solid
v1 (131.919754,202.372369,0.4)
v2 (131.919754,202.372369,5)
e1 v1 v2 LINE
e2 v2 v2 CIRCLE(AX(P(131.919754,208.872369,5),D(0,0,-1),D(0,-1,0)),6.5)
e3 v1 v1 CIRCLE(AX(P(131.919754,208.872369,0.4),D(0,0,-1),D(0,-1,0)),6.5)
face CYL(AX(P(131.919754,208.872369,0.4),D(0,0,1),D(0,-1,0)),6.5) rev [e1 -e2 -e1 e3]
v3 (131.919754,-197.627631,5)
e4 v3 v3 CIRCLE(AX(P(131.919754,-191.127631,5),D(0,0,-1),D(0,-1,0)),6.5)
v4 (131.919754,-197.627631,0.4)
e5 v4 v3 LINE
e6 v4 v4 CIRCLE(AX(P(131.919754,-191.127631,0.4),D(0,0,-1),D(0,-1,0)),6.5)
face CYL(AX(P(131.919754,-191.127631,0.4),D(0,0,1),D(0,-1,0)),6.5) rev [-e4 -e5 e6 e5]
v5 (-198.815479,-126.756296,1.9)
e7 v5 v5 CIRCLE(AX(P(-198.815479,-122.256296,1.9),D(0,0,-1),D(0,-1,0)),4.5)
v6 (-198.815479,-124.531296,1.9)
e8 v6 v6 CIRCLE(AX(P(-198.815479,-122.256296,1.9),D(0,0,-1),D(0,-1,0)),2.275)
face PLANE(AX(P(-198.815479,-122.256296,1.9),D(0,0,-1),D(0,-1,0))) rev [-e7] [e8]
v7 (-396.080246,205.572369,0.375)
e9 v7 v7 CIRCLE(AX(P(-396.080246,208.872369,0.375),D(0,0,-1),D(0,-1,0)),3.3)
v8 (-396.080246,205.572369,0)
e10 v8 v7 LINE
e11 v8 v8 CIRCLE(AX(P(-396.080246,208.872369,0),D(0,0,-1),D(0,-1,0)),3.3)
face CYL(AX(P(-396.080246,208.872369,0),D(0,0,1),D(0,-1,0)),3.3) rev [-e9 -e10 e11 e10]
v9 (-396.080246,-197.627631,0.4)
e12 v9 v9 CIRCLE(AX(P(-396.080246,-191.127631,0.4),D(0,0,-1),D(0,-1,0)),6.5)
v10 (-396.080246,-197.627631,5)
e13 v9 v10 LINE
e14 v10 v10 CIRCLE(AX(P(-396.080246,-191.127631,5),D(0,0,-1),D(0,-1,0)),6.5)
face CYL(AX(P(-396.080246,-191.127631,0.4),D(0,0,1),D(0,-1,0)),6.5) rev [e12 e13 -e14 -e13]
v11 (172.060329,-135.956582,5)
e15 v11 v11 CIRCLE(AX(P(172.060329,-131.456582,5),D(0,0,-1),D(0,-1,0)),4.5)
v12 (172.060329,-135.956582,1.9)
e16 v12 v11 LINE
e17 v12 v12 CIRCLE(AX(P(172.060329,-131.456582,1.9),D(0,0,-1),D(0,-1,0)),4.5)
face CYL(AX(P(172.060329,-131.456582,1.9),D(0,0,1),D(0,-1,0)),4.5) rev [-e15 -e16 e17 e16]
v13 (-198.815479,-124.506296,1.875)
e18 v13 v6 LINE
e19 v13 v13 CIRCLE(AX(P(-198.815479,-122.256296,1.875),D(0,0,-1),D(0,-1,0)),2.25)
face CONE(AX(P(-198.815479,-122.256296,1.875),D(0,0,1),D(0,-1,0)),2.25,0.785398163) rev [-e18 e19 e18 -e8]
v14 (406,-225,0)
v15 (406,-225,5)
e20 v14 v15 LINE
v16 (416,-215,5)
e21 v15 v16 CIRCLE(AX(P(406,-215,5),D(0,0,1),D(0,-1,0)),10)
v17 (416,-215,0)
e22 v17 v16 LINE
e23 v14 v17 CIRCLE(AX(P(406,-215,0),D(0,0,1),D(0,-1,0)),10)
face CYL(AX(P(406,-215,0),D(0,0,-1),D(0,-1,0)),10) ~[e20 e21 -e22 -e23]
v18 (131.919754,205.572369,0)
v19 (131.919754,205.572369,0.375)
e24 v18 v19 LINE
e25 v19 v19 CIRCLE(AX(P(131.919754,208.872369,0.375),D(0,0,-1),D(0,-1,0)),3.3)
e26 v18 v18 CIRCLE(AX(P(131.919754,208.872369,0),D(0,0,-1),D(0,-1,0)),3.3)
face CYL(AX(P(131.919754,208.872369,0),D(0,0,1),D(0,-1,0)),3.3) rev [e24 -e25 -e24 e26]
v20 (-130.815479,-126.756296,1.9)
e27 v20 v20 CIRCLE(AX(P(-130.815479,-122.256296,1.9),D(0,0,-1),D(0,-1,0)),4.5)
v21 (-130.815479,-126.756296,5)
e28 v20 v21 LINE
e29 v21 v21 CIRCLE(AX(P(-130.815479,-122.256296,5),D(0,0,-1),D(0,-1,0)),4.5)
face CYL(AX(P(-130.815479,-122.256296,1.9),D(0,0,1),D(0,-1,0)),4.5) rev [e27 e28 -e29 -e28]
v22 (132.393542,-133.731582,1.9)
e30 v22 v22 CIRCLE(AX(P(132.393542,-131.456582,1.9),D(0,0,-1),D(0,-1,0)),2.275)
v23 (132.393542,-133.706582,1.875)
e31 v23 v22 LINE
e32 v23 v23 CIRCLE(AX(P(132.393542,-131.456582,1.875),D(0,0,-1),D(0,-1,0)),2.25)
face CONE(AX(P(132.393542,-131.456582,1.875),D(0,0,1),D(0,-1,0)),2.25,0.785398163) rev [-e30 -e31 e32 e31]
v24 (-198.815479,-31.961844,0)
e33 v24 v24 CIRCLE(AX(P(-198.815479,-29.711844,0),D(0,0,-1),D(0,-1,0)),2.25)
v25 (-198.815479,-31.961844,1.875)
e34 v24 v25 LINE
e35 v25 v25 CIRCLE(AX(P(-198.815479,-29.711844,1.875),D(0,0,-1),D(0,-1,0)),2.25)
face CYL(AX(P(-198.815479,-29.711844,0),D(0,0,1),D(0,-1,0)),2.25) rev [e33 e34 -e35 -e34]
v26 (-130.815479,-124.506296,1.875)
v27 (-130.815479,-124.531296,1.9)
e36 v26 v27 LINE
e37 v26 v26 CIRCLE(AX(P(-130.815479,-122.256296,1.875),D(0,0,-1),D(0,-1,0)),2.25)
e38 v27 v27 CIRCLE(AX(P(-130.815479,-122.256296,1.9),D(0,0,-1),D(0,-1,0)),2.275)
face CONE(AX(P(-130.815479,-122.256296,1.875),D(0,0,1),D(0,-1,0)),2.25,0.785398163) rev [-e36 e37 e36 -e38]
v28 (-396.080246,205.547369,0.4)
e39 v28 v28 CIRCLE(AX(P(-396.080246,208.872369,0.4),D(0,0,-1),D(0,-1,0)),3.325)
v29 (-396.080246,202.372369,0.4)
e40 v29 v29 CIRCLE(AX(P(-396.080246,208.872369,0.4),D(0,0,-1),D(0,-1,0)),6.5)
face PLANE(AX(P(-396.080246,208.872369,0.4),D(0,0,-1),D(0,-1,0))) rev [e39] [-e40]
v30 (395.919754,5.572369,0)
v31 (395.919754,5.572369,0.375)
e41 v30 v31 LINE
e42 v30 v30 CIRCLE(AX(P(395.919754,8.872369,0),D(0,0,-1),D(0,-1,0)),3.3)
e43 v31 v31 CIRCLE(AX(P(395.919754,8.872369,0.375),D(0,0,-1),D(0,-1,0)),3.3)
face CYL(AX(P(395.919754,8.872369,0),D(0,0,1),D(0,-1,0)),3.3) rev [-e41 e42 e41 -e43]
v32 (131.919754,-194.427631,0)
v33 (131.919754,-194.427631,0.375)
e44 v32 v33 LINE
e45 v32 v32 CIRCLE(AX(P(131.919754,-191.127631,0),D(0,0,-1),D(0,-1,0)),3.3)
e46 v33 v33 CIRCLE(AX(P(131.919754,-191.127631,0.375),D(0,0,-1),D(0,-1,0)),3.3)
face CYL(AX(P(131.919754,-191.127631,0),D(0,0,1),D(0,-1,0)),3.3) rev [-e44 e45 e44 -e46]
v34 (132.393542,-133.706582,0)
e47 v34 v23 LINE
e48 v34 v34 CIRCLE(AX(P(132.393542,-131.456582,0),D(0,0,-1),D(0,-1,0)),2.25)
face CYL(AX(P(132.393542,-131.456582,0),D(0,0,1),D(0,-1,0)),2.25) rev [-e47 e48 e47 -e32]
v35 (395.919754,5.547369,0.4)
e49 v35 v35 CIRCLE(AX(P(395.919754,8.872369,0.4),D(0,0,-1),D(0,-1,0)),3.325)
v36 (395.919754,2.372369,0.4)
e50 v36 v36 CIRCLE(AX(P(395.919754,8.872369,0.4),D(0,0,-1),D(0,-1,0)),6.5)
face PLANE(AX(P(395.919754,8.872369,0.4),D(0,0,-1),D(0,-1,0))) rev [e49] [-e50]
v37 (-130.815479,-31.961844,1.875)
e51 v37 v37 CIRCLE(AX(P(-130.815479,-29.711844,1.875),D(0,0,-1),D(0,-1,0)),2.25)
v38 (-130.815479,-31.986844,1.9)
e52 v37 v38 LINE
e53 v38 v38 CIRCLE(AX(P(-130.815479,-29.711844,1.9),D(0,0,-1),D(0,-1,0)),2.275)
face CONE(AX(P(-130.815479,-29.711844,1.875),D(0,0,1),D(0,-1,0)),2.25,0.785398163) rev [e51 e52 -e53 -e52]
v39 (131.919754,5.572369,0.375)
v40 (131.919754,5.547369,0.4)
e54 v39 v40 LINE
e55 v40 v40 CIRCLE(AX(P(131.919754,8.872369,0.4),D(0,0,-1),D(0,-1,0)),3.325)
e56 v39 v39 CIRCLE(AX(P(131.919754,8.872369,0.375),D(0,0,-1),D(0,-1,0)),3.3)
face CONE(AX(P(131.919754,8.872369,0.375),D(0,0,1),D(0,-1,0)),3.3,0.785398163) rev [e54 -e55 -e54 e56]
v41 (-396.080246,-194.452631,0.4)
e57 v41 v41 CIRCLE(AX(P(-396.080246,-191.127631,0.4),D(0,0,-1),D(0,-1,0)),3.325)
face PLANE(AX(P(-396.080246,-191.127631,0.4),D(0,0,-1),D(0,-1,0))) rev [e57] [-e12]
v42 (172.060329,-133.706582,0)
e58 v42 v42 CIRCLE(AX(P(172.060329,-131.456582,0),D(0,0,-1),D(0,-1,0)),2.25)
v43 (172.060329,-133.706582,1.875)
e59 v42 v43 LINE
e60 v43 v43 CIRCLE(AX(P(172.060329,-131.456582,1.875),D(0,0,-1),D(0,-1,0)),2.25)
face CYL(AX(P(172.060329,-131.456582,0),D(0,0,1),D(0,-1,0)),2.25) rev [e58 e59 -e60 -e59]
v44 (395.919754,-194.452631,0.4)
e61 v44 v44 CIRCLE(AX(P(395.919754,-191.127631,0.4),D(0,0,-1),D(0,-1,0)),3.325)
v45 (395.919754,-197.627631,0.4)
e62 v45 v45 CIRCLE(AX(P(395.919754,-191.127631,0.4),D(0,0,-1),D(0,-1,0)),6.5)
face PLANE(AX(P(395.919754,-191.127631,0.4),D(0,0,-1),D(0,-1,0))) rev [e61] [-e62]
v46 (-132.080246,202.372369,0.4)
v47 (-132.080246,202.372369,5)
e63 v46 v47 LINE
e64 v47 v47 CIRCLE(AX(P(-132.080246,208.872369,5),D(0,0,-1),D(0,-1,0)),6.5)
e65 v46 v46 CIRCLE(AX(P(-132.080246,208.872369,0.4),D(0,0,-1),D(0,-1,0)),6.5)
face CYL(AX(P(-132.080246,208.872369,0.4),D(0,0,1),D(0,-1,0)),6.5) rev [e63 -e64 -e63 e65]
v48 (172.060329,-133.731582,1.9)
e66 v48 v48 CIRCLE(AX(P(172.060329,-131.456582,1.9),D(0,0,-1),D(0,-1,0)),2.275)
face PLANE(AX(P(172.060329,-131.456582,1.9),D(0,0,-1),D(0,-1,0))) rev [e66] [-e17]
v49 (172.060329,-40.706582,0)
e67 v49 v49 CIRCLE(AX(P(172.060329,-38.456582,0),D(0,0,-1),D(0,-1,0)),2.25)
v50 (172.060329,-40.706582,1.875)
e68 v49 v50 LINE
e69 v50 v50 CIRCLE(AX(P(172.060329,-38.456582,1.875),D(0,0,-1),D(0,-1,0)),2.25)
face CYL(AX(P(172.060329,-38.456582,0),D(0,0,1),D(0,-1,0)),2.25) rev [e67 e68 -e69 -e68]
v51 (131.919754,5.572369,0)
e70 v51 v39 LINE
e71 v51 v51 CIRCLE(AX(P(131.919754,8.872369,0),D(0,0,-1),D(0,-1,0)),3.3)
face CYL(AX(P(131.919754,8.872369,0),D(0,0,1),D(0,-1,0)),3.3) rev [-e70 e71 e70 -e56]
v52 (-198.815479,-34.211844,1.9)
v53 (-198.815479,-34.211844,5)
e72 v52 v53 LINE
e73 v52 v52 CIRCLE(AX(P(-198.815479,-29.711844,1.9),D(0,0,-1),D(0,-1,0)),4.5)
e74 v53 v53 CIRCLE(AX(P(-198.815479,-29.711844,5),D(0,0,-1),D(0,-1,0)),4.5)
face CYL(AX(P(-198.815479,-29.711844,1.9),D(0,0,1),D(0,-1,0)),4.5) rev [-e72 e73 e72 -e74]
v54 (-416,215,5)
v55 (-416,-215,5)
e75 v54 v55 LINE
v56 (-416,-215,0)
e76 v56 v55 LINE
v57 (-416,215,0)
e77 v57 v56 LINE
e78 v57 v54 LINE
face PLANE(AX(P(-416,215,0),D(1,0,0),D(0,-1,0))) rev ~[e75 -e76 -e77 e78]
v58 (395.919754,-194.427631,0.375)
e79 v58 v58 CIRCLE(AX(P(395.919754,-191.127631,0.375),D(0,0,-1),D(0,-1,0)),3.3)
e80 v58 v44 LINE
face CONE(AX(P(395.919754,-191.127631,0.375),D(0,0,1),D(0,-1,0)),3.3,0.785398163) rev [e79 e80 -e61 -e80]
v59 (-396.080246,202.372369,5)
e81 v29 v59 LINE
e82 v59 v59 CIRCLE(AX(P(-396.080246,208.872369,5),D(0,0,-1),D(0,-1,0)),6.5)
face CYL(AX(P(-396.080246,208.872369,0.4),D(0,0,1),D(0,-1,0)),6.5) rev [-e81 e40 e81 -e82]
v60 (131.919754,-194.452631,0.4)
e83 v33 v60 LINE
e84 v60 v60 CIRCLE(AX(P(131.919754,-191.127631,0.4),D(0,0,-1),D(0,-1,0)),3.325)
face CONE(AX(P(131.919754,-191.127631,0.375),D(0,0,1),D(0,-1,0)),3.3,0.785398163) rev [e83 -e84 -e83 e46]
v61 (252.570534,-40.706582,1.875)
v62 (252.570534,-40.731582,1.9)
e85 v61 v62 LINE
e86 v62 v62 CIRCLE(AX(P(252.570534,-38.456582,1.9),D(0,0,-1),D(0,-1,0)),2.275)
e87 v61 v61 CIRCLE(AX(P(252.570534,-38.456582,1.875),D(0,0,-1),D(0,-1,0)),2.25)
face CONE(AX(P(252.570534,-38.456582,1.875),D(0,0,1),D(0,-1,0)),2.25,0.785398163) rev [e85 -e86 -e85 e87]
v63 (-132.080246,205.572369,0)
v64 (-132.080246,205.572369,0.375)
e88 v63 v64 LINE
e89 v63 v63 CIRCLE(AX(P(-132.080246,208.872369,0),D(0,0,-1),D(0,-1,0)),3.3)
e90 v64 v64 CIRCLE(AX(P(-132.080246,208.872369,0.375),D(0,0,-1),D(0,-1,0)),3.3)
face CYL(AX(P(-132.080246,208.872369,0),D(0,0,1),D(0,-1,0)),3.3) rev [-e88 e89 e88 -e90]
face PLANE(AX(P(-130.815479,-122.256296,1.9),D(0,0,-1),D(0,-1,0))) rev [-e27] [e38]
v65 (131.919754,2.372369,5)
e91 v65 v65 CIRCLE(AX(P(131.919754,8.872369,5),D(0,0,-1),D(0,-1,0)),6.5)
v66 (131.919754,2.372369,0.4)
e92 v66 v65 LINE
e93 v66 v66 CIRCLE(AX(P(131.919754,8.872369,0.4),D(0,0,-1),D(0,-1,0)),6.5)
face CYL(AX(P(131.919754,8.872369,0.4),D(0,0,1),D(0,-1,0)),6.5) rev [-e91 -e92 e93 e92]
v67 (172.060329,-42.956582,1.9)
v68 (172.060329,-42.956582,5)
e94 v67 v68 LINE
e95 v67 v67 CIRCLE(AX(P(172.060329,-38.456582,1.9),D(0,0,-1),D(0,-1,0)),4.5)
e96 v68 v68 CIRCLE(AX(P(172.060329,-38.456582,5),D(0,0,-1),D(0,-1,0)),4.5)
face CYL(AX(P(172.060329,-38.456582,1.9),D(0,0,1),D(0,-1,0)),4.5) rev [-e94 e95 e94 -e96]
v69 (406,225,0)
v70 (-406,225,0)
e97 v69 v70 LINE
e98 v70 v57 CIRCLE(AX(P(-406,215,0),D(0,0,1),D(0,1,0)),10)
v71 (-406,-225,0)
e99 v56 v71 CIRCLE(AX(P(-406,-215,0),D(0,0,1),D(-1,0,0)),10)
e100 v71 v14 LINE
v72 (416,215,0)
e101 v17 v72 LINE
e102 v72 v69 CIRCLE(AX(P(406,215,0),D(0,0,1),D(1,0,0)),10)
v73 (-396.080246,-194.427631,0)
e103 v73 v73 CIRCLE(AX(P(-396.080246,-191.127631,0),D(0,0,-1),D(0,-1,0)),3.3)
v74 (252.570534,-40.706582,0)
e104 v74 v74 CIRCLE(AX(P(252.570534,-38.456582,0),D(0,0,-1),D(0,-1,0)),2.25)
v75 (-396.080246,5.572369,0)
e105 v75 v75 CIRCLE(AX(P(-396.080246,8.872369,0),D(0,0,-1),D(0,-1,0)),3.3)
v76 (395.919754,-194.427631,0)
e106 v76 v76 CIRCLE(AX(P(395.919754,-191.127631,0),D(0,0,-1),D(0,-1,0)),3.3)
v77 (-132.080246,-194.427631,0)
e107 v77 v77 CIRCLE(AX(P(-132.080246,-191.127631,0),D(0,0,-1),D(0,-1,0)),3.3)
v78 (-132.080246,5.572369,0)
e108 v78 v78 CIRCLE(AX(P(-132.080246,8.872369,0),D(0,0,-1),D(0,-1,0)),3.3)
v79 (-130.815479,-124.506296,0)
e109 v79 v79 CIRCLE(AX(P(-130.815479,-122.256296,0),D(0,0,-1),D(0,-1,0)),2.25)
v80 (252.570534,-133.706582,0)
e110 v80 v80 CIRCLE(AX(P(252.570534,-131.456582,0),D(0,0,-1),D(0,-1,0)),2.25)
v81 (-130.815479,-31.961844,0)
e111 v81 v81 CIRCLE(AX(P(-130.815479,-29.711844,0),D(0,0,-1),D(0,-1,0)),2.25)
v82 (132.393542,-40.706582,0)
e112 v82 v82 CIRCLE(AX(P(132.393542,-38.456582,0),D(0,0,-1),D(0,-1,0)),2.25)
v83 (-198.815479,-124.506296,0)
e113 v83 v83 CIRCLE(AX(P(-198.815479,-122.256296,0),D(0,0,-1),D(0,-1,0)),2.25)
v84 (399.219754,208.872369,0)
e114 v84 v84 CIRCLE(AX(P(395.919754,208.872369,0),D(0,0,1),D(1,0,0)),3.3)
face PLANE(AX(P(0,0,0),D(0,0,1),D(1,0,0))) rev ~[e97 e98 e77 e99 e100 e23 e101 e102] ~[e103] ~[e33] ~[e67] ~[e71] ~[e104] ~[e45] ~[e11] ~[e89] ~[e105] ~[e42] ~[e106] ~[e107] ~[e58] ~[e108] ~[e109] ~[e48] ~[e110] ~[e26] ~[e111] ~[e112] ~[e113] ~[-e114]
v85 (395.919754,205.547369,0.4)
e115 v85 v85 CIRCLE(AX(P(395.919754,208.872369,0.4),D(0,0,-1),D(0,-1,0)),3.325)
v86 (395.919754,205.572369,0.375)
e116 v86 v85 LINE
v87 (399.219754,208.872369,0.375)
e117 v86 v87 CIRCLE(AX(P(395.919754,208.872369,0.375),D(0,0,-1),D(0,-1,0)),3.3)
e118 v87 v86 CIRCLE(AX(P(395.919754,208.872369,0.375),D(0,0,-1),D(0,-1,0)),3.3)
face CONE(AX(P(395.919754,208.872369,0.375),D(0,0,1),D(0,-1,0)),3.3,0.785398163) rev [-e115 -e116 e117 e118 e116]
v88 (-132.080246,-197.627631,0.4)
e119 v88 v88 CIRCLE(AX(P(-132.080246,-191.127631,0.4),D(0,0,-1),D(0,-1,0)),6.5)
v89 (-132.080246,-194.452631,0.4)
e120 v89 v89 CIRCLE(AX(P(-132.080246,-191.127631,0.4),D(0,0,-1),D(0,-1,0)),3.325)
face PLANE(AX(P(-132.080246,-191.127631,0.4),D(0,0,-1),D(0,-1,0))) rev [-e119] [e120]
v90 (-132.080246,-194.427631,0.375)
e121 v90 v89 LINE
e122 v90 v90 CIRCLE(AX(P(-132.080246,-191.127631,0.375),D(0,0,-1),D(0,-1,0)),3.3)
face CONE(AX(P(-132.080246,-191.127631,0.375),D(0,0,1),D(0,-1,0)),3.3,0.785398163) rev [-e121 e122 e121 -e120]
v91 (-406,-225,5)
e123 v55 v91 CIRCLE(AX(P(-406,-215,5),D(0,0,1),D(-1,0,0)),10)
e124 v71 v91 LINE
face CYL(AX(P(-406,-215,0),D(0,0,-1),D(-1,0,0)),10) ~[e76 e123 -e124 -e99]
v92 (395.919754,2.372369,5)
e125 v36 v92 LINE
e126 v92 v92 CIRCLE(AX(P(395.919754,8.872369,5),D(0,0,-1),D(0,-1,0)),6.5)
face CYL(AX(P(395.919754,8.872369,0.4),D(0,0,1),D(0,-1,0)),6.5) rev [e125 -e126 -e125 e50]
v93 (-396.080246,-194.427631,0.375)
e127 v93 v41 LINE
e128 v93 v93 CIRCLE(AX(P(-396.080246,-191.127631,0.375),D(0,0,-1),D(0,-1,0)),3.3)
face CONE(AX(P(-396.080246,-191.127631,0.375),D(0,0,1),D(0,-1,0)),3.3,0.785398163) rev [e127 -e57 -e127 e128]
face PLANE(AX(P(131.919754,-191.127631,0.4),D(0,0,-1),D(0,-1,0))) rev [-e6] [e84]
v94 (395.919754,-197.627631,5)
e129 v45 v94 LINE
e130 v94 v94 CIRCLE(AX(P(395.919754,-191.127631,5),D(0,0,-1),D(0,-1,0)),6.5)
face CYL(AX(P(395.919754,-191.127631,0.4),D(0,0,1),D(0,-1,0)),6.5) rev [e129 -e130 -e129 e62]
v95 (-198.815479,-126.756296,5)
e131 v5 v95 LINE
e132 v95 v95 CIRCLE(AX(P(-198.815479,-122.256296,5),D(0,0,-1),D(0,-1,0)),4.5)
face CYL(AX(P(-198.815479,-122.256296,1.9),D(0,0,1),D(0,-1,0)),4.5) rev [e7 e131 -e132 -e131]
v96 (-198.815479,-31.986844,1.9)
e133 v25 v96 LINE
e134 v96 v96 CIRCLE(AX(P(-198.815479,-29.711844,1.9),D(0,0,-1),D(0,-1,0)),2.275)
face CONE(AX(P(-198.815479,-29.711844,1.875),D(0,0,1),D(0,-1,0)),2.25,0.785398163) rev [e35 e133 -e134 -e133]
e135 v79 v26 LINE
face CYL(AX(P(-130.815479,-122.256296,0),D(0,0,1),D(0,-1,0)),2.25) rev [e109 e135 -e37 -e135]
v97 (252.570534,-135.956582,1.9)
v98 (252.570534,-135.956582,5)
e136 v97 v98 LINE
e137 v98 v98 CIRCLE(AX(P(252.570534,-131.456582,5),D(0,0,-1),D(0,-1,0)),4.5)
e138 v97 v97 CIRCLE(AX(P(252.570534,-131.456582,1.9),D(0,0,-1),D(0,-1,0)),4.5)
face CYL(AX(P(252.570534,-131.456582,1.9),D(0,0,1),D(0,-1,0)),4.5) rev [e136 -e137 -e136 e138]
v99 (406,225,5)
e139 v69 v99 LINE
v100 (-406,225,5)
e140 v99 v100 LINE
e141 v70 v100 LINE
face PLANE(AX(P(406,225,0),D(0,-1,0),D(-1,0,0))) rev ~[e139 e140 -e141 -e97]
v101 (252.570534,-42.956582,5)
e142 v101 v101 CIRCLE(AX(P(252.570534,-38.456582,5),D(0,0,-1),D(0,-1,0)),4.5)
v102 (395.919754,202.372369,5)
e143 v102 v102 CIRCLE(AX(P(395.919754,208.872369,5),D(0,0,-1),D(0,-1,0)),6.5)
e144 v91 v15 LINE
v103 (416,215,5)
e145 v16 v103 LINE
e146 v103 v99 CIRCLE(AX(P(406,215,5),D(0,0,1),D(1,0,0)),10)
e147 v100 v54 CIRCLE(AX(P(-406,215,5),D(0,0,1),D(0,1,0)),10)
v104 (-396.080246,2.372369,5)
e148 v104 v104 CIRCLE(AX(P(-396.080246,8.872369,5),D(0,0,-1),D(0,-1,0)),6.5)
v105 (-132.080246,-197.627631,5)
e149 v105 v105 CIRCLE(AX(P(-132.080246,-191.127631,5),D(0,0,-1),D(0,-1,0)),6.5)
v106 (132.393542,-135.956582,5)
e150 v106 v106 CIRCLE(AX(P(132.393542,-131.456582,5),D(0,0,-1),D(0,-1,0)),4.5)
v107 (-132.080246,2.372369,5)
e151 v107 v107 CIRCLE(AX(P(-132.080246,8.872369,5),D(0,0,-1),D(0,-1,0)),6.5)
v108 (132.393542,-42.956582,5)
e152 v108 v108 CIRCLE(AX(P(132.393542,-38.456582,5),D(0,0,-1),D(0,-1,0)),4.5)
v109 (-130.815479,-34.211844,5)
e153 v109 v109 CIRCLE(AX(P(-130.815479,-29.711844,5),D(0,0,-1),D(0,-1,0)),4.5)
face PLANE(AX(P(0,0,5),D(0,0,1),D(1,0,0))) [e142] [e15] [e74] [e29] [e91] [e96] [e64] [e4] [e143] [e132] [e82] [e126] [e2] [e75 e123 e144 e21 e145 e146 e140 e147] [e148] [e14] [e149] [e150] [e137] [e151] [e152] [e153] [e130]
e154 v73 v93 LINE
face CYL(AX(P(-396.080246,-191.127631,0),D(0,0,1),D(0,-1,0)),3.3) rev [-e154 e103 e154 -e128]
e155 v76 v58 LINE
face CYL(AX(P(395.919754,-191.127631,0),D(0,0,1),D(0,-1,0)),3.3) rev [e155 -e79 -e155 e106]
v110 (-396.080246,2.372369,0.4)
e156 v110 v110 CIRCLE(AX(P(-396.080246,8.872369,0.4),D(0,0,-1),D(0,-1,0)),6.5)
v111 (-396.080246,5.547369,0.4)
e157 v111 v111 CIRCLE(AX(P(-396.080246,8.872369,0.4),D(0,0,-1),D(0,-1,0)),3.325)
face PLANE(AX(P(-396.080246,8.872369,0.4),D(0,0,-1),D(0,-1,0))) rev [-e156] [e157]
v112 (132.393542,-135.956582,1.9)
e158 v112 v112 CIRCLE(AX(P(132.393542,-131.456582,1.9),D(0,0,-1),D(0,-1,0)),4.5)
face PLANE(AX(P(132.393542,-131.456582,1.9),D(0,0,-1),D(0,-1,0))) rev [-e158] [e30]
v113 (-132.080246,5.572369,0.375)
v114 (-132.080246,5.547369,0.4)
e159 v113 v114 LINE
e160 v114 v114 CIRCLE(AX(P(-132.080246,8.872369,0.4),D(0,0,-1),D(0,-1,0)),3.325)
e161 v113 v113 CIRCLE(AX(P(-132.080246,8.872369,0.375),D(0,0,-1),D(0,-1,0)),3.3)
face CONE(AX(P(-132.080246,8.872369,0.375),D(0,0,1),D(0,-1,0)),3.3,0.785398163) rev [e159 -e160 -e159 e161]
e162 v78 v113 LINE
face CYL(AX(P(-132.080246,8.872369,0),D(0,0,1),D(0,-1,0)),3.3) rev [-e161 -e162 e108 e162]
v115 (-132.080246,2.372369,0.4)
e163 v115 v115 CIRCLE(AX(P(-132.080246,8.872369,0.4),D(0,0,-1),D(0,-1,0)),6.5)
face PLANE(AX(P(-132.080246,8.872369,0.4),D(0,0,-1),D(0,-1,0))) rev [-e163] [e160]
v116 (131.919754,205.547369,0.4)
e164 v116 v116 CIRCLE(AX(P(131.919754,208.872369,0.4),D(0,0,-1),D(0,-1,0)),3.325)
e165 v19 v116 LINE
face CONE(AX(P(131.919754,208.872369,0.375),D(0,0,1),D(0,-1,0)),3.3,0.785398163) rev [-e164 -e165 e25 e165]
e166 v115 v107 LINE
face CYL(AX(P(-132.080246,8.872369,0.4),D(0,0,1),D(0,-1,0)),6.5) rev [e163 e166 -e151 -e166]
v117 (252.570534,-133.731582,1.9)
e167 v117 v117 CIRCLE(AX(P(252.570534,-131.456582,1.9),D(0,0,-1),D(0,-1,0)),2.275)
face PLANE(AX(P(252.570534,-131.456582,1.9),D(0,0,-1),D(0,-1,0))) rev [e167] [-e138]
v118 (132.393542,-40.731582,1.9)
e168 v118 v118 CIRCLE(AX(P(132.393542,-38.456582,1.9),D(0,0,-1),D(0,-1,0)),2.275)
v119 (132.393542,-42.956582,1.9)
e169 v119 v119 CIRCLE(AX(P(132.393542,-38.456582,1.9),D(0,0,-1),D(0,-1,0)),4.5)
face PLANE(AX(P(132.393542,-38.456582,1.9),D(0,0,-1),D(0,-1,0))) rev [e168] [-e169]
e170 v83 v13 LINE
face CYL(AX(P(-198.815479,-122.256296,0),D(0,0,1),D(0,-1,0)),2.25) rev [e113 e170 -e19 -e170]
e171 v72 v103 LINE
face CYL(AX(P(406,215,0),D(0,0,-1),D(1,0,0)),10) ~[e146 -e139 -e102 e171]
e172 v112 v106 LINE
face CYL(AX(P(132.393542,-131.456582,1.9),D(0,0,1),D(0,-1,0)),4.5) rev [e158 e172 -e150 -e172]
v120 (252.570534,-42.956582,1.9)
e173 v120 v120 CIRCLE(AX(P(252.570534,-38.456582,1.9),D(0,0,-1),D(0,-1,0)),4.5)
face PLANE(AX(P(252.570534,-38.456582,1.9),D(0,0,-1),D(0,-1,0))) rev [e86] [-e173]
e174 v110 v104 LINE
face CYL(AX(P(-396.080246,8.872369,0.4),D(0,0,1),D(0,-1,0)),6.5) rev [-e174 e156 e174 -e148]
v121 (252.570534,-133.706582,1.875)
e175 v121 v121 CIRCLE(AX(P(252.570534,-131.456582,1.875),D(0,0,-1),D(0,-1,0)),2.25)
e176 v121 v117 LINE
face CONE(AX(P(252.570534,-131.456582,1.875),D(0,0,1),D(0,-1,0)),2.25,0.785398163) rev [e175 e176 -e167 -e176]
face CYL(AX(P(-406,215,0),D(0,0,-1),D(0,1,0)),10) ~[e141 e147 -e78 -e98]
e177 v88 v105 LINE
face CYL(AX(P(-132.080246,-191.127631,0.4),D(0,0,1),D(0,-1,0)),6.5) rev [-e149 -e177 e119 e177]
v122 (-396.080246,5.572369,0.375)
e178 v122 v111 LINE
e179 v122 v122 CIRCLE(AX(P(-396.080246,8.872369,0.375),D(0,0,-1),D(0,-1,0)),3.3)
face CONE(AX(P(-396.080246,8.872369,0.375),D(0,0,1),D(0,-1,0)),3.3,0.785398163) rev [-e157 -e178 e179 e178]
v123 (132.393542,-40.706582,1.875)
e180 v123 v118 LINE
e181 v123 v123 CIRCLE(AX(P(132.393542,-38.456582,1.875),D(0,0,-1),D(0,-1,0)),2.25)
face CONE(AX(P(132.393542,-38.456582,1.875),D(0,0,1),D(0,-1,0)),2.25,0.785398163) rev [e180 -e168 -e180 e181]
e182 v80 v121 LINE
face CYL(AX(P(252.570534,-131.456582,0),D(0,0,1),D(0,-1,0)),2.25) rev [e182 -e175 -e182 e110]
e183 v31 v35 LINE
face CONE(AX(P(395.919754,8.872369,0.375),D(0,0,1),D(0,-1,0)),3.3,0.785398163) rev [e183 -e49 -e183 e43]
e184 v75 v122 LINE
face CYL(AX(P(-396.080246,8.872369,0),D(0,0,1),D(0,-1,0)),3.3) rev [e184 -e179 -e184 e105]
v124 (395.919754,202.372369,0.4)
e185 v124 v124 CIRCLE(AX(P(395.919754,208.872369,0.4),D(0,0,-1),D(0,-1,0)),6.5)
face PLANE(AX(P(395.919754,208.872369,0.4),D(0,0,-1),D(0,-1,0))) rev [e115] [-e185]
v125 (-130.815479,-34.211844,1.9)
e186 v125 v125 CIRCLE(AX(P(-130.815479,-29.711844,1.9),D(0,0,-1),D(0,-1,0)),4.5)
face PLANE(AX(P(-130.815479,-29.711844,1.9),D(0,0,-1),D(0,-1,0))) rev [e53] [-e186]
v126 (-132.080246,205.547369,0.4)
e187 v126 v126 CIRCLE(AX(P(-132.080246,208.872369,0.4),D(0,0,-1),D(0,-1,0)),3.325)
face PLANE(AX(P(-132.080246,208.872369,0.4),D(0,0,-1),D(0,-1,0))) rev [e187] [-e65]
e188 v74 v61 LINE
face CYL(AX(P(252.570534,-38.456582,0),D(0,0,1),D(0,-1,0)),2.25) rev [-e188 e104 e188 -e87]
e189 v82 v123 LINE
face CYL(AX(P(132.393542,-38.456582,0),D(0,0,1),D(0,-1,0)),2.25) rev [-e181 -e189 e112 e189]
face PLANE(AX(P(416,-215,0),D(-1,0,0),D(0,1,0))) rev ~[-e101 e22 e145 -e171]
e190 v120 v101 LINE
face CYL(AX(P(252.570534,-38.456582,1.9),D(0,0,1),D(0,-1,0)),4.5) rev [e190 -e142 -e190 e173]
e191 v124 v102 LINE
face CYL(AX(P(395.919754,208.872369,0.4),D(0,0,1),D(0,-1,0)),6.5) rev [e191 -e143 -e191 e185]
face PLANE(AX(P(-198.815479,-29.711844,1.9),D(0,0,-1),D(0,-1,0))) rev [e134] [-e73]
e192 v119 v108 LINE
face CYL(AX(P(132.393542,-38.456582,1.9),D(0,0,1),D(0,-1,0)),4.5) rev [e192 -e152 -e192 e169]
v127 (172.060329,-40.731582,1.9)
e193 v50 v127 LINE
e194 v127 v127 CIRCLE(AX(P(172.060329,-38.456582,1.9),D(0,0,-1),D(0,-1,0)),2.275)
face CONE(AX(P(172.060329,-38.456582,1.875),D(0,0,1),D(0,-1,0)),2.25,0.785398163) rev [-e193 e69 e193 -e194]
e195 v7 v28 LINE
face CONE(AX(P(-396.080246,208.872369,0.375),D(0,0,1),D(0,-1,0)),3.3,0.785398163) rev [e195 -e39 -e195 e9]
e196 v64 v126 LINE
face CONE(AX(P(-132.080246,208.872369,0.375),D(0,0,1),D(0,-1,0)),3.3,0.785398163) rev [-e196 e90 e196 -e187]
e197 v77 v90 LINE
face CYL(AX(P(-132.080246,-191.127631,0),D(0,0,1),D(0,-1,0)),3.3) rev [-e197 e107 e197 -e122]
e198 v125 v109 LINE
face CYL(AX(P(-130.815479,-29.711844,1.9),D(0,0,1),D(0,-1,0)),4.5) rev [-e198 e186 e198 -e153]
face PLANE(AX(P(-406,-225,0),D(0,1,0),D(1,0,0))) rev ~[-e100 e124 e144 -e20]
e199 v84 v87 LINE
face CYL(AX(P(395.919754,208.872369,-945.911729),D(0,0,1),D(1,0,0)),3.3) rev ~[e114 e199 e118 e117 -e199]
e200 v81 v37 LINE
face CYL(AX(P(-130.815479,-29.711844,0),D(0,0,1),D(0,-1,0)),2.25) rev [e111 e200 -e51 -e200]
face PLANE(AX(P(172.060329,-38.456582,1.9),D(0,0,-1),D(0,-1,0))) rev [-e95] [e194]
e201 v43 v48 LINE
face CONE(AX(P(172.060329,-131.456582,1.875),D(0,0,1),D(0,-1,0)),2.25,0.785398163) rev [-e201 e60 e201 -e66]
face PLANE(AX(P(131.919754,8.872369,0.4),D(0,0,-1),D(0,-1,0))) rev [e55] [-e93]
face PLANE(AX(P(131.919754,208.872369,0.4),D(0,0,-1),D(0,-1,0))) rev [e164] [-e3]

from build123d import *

# Parameters (mm, degrees)
BOSS_EXTRU_1_DEPTH                           = 5
D_GAGEMENT_M61_D                             = 6.6
R_P_TITION_LIN_AIRE1_COUNT                   = 5
R_P_TITION_LIN_AIRE1_PITCH                   = 100
R_P_TITION_LIN_AIRE1_COUNT_DIR2              = 4
R_P_TITION_LIN_AIRE1_PITCH_DIR2              = 264
CHAMBRAGE_POUR_VIS_T_TE_RONDE_BOMB_2_A_COUNT = 2
CHAMBRAGE_POUR_VIS_T_TE_RONDE_BOMB_2_A_PITCH = 39.666786558
CHAMBRAGE_POUR_VIS_T_TE_RONDE_BOMB_3_COUNT   = 2
CHAMBRAGE_POUR_VIS_T_TE_RONDE_BOMB_3_PITCH   = 120.176992244
R_P_TITION_LIN_AIRE2_COUNT                   = 2
R_P_TITION_LIN_AIRE2_PITCH                   = 93
CHAMBRAGE_POUR_VIS_T_TE_RONDE_BOMB_4_A_COUNT = 2
CHAMBRAGE_POUR_VIS_T_TE_RONDE_BOMB_4_A_PITCH = 92.544451502
R_P_TITION_LIN_AIRE3_COUNT                   = 2
R_P_TITION_LIN_AIRE3_PITCH                   = 68


with BuildPart() as part:
    # Esquisse1 → Boss.-Extru.1 (new body)
    with BuildSketch(Plane.XY):
        with BuildLine():
            Line((-406, -225), (406, -225))
            ThreePointArc((406, -225), (413.071067812, -222.071067812), (416, -215))
            Line((416, -215), (416, 215))
            ThreePointArc((416, 215), (413.071067812, 222.071067812), (406, 225))
            Line((406, 225), (-406, 225))
            ThreePointArc((-406, 225), (-413.071067812, 222.071067812), (-416, 215))
            Line((-416, 215), (-416, -215))
            ThreePointArc((-416, -215), (-413.071067812, -222.071067812), (-406, -225))
        make_face()
    extrude(amount=BOSS_EXTRU_1_DEPTH)

    # Dégagement M61 (through all)
    with Locations(Plane(origin=(0, 0, 0), x_dir=(-1, 0, 0), z_dir=(0, 0, -1))):
        with Locations((-395.919753935, 208.872368656)):
            Hole(D_GAGEMENT_M61_D / 2)

    # Esquisse4 → Chambrage pour vis _ t_te ronde bomb_e M (revolve, cut)
    with BuildSketch(Plane(origin=(395.919753935, 208.872368656, 5), x_dir=(0, -1, 0), z_dir=(1, 0, 0))):
        Polygon((0, 0), (0, 5), (3.3, 5), (3.3, 4.625), (3.325, 4.6), (6.5, 4.6), (6.5, 0), align=None)
    chambrage_pour_vis_t_te_ronde_bomb_e_m = revolve(axis=Axis((395.919753935, 208.872368656, 11.35), (0, 0, -1)), mode=Mode.SUBTRACT)

    # Répétition linéaire1: Chambrage pour vis _ t_te ronde bomb_e M 5 × 4, 8 skipped
    with Locations(*[(-j * R_P_TITION_LIN_AIRE1_PITCH_DIR2, -i * R_P_TITION_LIN_AIRE1_PITCH, 0) for i in range(R_P_TITION_LIN_AIRE1_COUNT) for j in range(R_P_TITION_LIN_AIRE1_COUNT_DIR2) if (i, j) not in ((0, 0), (1, 0), (1, 1), (1, 2), (1, 3), (3, 0), (3, 1), (3, 2), (3, 3))]):
        add(chambrage_pour_vis_t_te_ronde_bomb_e_m, mode=Mode.SUBTRACT)

    # Esquisse6 → Chambrage pour vis _ t_te ronde bomb 2 (revolve, cut)
    with BuildSketch(Plane(origin=(132.393542226, -131.456581801, 5), x_dir=(0, -1, 0), z_dir=(1, 0, 0))):
        Polygon((0, 0), (0, 5), (2.25, 5), (2.25, 3.125), (2.275, 3.1), (4.5, 3.1), (4.5, 0), align=None)
    chambrage_pour_vis_t_te_ronde_bomb_2 = revolve(axis=Axis((132.393542226, -131.456581801, 11.35), (0, 0, -1)), mode=Mode.SUBTRACT)

    # Chambrage pour vis _ t_te ronde bomb 2 a: Chambrage pour vis _ t_te ronde bomb 2 ×2
    with Locations(*[(i * CHAMBRAGE_POUR_VIS_T_TE_RONDE_BOMB_2_A_PITCH, 0, 0) for i in range(1, CHAMBRAGE_POUR_VIS_T_TE_RONDE_BOMB_2_A_COUNT)]):
        add(chambrage_pour_vis_t_te_ronde_bomb_2, mode=Mode.SUBTRACT)

    # Chambrage pour vis _ t_te ronde bomb 3: Chambrage pour vis _ t_te ronde bomb 2 ×2
    with Locations(*[(i * CHAMBRAGE_POUR_VIS_T_TE_RONDE_BOMB_3_PITCH, 0, 0) for i in range(1, CHAMBRAGE_POUR_VIS_T_TE_RONDE_BOMB_3_COUNT)]):
        add(chambrage_pour_vis_t_te_ronde_bomb_2, mode=Mode.SUBTRACT)

    # Répétition linéaire2: Chambrage pour vis _ t_te ronde bomb 2 ×2
    with Locations(*[(0, i * R_P_TITION_LIN_AIRE2_PITCH, 0) for i in range(1, R_P_TITION_LIN_AIRE2_COUNT)]):
        add(chambrage_pour_vis_t_te_ronde_bomb_2, mode=Mode.SUBTRACT)

    # Répétition linéaire2 copy 1 sketch → Répétition linéaire2 copy 1 (revolve, cut)
    with BuildSketch(Plane(origin=(172.060328783, -38.456581801, 5), x_dir=(0, -1, 0), z_dir=(1, 0, 0))):
        Polygon((0, 0), (0, 5), (2.25, 5), (2.25, 3.125), (2.275, 3.1), (4.5, 3.1), (4.5, 0), align=None)
    revolve(axis=Axis((172.060328783, -38.456581801, 11.35), (0, 0, -1)), mode=Mode.SUBTRACT)

    # Répétition linéaire2 copy 2 sketch → Répétition linéaire2 copy 2 (revolve, cut)
    with BuildSketch(Plane(origin=(252.57053447, -38.456581801, 5), x_dir=(0, -1, 0), z_dir=(1, 0, 0))):
        Polygon((0, 0), (0, 5), (2.25, 5), (2.25, 3.125), (2.275, 3.1), (4.5, 3.1), (4.5, 0), align=None)
    revolve(axis=Axis((252.57053447, -38.456581801, 11.35), (0, 0, -1)), mode=Mode.SUBTRACT)

    # Esquisse9 → Chambrage pour vis _ t_te ronde bomb 4 (revolve, cut)
    with BuildSketch(Plane(origin=(-130.81547906, -122.256295557, 5), x_dir=(0, -1, 0), z_dir=(1, 0, 0))):
        Polygon((0, 0), (0, 5), (2.25, 5), (2.25, 3.125), (2.275, 3.1), (4.5, 3.1), (4.5, 0), align=None)
    chambrage_pour_vis_t_te_ronde_bomb_4 = revolve(axis=Axis((-130.81547906, -122.256295557, 11.35), (0, 0, -1)), mode=Mode.SUBTRACT)

    # Chambrage pour vis _ t_te ronde bomb 4 a: Chambrage pour vis _ t_te ronde bomb 4 ×2
    with Locations(*[(0, i * CHAMBRAGE_POUR_VIS_T_TE_RONDE_BOMB_4_A_PITCH, 0) for i in range(1, CHAMBRAGE_POUR_VIS_T_TE_RONDE_BOMB_4_A_COUNT)]):
        add(chambrage_pour_vis_t_te_ronde_bomb_4, mode=Mode.SUBTRACT)

    # Répétition linéaire3: Chambrage pour vis _ t_te ronde bomb 4 ×2
    with Locations(*[(-i * R_P_TITION_LIN_AIRE3_PITCH, 0, 0) for i in range(1, R_P_TITION_LIN_AIRE3_COUNT)]):
        add(chambrage_pour_vis_t_te_ronde_bomb_4, mode=Mode.SUBTRACT)

    # Répétition linéaire3 copy 1 sketch → Répétition linéaire3 copy 1 (revolve, cut)
    with BuildSketch(Plane(origin=(-198.81547906, -29.711844055, 5), x_dir=(0, -1, 0), z_dir=(1, 0, 0))):
        Polygon((0, 0), (0, 5), (2.25, 5), (2.25, 3.125), (2.275, 3.1), (4.5, 3.1), (4.5, 0), align=None)
    revolve(axis=Axis((-198.81547906, -29.711844055, 11.35), (0, 0, -1)), mode=Mode.SUBTRACT)


solid = part.part
